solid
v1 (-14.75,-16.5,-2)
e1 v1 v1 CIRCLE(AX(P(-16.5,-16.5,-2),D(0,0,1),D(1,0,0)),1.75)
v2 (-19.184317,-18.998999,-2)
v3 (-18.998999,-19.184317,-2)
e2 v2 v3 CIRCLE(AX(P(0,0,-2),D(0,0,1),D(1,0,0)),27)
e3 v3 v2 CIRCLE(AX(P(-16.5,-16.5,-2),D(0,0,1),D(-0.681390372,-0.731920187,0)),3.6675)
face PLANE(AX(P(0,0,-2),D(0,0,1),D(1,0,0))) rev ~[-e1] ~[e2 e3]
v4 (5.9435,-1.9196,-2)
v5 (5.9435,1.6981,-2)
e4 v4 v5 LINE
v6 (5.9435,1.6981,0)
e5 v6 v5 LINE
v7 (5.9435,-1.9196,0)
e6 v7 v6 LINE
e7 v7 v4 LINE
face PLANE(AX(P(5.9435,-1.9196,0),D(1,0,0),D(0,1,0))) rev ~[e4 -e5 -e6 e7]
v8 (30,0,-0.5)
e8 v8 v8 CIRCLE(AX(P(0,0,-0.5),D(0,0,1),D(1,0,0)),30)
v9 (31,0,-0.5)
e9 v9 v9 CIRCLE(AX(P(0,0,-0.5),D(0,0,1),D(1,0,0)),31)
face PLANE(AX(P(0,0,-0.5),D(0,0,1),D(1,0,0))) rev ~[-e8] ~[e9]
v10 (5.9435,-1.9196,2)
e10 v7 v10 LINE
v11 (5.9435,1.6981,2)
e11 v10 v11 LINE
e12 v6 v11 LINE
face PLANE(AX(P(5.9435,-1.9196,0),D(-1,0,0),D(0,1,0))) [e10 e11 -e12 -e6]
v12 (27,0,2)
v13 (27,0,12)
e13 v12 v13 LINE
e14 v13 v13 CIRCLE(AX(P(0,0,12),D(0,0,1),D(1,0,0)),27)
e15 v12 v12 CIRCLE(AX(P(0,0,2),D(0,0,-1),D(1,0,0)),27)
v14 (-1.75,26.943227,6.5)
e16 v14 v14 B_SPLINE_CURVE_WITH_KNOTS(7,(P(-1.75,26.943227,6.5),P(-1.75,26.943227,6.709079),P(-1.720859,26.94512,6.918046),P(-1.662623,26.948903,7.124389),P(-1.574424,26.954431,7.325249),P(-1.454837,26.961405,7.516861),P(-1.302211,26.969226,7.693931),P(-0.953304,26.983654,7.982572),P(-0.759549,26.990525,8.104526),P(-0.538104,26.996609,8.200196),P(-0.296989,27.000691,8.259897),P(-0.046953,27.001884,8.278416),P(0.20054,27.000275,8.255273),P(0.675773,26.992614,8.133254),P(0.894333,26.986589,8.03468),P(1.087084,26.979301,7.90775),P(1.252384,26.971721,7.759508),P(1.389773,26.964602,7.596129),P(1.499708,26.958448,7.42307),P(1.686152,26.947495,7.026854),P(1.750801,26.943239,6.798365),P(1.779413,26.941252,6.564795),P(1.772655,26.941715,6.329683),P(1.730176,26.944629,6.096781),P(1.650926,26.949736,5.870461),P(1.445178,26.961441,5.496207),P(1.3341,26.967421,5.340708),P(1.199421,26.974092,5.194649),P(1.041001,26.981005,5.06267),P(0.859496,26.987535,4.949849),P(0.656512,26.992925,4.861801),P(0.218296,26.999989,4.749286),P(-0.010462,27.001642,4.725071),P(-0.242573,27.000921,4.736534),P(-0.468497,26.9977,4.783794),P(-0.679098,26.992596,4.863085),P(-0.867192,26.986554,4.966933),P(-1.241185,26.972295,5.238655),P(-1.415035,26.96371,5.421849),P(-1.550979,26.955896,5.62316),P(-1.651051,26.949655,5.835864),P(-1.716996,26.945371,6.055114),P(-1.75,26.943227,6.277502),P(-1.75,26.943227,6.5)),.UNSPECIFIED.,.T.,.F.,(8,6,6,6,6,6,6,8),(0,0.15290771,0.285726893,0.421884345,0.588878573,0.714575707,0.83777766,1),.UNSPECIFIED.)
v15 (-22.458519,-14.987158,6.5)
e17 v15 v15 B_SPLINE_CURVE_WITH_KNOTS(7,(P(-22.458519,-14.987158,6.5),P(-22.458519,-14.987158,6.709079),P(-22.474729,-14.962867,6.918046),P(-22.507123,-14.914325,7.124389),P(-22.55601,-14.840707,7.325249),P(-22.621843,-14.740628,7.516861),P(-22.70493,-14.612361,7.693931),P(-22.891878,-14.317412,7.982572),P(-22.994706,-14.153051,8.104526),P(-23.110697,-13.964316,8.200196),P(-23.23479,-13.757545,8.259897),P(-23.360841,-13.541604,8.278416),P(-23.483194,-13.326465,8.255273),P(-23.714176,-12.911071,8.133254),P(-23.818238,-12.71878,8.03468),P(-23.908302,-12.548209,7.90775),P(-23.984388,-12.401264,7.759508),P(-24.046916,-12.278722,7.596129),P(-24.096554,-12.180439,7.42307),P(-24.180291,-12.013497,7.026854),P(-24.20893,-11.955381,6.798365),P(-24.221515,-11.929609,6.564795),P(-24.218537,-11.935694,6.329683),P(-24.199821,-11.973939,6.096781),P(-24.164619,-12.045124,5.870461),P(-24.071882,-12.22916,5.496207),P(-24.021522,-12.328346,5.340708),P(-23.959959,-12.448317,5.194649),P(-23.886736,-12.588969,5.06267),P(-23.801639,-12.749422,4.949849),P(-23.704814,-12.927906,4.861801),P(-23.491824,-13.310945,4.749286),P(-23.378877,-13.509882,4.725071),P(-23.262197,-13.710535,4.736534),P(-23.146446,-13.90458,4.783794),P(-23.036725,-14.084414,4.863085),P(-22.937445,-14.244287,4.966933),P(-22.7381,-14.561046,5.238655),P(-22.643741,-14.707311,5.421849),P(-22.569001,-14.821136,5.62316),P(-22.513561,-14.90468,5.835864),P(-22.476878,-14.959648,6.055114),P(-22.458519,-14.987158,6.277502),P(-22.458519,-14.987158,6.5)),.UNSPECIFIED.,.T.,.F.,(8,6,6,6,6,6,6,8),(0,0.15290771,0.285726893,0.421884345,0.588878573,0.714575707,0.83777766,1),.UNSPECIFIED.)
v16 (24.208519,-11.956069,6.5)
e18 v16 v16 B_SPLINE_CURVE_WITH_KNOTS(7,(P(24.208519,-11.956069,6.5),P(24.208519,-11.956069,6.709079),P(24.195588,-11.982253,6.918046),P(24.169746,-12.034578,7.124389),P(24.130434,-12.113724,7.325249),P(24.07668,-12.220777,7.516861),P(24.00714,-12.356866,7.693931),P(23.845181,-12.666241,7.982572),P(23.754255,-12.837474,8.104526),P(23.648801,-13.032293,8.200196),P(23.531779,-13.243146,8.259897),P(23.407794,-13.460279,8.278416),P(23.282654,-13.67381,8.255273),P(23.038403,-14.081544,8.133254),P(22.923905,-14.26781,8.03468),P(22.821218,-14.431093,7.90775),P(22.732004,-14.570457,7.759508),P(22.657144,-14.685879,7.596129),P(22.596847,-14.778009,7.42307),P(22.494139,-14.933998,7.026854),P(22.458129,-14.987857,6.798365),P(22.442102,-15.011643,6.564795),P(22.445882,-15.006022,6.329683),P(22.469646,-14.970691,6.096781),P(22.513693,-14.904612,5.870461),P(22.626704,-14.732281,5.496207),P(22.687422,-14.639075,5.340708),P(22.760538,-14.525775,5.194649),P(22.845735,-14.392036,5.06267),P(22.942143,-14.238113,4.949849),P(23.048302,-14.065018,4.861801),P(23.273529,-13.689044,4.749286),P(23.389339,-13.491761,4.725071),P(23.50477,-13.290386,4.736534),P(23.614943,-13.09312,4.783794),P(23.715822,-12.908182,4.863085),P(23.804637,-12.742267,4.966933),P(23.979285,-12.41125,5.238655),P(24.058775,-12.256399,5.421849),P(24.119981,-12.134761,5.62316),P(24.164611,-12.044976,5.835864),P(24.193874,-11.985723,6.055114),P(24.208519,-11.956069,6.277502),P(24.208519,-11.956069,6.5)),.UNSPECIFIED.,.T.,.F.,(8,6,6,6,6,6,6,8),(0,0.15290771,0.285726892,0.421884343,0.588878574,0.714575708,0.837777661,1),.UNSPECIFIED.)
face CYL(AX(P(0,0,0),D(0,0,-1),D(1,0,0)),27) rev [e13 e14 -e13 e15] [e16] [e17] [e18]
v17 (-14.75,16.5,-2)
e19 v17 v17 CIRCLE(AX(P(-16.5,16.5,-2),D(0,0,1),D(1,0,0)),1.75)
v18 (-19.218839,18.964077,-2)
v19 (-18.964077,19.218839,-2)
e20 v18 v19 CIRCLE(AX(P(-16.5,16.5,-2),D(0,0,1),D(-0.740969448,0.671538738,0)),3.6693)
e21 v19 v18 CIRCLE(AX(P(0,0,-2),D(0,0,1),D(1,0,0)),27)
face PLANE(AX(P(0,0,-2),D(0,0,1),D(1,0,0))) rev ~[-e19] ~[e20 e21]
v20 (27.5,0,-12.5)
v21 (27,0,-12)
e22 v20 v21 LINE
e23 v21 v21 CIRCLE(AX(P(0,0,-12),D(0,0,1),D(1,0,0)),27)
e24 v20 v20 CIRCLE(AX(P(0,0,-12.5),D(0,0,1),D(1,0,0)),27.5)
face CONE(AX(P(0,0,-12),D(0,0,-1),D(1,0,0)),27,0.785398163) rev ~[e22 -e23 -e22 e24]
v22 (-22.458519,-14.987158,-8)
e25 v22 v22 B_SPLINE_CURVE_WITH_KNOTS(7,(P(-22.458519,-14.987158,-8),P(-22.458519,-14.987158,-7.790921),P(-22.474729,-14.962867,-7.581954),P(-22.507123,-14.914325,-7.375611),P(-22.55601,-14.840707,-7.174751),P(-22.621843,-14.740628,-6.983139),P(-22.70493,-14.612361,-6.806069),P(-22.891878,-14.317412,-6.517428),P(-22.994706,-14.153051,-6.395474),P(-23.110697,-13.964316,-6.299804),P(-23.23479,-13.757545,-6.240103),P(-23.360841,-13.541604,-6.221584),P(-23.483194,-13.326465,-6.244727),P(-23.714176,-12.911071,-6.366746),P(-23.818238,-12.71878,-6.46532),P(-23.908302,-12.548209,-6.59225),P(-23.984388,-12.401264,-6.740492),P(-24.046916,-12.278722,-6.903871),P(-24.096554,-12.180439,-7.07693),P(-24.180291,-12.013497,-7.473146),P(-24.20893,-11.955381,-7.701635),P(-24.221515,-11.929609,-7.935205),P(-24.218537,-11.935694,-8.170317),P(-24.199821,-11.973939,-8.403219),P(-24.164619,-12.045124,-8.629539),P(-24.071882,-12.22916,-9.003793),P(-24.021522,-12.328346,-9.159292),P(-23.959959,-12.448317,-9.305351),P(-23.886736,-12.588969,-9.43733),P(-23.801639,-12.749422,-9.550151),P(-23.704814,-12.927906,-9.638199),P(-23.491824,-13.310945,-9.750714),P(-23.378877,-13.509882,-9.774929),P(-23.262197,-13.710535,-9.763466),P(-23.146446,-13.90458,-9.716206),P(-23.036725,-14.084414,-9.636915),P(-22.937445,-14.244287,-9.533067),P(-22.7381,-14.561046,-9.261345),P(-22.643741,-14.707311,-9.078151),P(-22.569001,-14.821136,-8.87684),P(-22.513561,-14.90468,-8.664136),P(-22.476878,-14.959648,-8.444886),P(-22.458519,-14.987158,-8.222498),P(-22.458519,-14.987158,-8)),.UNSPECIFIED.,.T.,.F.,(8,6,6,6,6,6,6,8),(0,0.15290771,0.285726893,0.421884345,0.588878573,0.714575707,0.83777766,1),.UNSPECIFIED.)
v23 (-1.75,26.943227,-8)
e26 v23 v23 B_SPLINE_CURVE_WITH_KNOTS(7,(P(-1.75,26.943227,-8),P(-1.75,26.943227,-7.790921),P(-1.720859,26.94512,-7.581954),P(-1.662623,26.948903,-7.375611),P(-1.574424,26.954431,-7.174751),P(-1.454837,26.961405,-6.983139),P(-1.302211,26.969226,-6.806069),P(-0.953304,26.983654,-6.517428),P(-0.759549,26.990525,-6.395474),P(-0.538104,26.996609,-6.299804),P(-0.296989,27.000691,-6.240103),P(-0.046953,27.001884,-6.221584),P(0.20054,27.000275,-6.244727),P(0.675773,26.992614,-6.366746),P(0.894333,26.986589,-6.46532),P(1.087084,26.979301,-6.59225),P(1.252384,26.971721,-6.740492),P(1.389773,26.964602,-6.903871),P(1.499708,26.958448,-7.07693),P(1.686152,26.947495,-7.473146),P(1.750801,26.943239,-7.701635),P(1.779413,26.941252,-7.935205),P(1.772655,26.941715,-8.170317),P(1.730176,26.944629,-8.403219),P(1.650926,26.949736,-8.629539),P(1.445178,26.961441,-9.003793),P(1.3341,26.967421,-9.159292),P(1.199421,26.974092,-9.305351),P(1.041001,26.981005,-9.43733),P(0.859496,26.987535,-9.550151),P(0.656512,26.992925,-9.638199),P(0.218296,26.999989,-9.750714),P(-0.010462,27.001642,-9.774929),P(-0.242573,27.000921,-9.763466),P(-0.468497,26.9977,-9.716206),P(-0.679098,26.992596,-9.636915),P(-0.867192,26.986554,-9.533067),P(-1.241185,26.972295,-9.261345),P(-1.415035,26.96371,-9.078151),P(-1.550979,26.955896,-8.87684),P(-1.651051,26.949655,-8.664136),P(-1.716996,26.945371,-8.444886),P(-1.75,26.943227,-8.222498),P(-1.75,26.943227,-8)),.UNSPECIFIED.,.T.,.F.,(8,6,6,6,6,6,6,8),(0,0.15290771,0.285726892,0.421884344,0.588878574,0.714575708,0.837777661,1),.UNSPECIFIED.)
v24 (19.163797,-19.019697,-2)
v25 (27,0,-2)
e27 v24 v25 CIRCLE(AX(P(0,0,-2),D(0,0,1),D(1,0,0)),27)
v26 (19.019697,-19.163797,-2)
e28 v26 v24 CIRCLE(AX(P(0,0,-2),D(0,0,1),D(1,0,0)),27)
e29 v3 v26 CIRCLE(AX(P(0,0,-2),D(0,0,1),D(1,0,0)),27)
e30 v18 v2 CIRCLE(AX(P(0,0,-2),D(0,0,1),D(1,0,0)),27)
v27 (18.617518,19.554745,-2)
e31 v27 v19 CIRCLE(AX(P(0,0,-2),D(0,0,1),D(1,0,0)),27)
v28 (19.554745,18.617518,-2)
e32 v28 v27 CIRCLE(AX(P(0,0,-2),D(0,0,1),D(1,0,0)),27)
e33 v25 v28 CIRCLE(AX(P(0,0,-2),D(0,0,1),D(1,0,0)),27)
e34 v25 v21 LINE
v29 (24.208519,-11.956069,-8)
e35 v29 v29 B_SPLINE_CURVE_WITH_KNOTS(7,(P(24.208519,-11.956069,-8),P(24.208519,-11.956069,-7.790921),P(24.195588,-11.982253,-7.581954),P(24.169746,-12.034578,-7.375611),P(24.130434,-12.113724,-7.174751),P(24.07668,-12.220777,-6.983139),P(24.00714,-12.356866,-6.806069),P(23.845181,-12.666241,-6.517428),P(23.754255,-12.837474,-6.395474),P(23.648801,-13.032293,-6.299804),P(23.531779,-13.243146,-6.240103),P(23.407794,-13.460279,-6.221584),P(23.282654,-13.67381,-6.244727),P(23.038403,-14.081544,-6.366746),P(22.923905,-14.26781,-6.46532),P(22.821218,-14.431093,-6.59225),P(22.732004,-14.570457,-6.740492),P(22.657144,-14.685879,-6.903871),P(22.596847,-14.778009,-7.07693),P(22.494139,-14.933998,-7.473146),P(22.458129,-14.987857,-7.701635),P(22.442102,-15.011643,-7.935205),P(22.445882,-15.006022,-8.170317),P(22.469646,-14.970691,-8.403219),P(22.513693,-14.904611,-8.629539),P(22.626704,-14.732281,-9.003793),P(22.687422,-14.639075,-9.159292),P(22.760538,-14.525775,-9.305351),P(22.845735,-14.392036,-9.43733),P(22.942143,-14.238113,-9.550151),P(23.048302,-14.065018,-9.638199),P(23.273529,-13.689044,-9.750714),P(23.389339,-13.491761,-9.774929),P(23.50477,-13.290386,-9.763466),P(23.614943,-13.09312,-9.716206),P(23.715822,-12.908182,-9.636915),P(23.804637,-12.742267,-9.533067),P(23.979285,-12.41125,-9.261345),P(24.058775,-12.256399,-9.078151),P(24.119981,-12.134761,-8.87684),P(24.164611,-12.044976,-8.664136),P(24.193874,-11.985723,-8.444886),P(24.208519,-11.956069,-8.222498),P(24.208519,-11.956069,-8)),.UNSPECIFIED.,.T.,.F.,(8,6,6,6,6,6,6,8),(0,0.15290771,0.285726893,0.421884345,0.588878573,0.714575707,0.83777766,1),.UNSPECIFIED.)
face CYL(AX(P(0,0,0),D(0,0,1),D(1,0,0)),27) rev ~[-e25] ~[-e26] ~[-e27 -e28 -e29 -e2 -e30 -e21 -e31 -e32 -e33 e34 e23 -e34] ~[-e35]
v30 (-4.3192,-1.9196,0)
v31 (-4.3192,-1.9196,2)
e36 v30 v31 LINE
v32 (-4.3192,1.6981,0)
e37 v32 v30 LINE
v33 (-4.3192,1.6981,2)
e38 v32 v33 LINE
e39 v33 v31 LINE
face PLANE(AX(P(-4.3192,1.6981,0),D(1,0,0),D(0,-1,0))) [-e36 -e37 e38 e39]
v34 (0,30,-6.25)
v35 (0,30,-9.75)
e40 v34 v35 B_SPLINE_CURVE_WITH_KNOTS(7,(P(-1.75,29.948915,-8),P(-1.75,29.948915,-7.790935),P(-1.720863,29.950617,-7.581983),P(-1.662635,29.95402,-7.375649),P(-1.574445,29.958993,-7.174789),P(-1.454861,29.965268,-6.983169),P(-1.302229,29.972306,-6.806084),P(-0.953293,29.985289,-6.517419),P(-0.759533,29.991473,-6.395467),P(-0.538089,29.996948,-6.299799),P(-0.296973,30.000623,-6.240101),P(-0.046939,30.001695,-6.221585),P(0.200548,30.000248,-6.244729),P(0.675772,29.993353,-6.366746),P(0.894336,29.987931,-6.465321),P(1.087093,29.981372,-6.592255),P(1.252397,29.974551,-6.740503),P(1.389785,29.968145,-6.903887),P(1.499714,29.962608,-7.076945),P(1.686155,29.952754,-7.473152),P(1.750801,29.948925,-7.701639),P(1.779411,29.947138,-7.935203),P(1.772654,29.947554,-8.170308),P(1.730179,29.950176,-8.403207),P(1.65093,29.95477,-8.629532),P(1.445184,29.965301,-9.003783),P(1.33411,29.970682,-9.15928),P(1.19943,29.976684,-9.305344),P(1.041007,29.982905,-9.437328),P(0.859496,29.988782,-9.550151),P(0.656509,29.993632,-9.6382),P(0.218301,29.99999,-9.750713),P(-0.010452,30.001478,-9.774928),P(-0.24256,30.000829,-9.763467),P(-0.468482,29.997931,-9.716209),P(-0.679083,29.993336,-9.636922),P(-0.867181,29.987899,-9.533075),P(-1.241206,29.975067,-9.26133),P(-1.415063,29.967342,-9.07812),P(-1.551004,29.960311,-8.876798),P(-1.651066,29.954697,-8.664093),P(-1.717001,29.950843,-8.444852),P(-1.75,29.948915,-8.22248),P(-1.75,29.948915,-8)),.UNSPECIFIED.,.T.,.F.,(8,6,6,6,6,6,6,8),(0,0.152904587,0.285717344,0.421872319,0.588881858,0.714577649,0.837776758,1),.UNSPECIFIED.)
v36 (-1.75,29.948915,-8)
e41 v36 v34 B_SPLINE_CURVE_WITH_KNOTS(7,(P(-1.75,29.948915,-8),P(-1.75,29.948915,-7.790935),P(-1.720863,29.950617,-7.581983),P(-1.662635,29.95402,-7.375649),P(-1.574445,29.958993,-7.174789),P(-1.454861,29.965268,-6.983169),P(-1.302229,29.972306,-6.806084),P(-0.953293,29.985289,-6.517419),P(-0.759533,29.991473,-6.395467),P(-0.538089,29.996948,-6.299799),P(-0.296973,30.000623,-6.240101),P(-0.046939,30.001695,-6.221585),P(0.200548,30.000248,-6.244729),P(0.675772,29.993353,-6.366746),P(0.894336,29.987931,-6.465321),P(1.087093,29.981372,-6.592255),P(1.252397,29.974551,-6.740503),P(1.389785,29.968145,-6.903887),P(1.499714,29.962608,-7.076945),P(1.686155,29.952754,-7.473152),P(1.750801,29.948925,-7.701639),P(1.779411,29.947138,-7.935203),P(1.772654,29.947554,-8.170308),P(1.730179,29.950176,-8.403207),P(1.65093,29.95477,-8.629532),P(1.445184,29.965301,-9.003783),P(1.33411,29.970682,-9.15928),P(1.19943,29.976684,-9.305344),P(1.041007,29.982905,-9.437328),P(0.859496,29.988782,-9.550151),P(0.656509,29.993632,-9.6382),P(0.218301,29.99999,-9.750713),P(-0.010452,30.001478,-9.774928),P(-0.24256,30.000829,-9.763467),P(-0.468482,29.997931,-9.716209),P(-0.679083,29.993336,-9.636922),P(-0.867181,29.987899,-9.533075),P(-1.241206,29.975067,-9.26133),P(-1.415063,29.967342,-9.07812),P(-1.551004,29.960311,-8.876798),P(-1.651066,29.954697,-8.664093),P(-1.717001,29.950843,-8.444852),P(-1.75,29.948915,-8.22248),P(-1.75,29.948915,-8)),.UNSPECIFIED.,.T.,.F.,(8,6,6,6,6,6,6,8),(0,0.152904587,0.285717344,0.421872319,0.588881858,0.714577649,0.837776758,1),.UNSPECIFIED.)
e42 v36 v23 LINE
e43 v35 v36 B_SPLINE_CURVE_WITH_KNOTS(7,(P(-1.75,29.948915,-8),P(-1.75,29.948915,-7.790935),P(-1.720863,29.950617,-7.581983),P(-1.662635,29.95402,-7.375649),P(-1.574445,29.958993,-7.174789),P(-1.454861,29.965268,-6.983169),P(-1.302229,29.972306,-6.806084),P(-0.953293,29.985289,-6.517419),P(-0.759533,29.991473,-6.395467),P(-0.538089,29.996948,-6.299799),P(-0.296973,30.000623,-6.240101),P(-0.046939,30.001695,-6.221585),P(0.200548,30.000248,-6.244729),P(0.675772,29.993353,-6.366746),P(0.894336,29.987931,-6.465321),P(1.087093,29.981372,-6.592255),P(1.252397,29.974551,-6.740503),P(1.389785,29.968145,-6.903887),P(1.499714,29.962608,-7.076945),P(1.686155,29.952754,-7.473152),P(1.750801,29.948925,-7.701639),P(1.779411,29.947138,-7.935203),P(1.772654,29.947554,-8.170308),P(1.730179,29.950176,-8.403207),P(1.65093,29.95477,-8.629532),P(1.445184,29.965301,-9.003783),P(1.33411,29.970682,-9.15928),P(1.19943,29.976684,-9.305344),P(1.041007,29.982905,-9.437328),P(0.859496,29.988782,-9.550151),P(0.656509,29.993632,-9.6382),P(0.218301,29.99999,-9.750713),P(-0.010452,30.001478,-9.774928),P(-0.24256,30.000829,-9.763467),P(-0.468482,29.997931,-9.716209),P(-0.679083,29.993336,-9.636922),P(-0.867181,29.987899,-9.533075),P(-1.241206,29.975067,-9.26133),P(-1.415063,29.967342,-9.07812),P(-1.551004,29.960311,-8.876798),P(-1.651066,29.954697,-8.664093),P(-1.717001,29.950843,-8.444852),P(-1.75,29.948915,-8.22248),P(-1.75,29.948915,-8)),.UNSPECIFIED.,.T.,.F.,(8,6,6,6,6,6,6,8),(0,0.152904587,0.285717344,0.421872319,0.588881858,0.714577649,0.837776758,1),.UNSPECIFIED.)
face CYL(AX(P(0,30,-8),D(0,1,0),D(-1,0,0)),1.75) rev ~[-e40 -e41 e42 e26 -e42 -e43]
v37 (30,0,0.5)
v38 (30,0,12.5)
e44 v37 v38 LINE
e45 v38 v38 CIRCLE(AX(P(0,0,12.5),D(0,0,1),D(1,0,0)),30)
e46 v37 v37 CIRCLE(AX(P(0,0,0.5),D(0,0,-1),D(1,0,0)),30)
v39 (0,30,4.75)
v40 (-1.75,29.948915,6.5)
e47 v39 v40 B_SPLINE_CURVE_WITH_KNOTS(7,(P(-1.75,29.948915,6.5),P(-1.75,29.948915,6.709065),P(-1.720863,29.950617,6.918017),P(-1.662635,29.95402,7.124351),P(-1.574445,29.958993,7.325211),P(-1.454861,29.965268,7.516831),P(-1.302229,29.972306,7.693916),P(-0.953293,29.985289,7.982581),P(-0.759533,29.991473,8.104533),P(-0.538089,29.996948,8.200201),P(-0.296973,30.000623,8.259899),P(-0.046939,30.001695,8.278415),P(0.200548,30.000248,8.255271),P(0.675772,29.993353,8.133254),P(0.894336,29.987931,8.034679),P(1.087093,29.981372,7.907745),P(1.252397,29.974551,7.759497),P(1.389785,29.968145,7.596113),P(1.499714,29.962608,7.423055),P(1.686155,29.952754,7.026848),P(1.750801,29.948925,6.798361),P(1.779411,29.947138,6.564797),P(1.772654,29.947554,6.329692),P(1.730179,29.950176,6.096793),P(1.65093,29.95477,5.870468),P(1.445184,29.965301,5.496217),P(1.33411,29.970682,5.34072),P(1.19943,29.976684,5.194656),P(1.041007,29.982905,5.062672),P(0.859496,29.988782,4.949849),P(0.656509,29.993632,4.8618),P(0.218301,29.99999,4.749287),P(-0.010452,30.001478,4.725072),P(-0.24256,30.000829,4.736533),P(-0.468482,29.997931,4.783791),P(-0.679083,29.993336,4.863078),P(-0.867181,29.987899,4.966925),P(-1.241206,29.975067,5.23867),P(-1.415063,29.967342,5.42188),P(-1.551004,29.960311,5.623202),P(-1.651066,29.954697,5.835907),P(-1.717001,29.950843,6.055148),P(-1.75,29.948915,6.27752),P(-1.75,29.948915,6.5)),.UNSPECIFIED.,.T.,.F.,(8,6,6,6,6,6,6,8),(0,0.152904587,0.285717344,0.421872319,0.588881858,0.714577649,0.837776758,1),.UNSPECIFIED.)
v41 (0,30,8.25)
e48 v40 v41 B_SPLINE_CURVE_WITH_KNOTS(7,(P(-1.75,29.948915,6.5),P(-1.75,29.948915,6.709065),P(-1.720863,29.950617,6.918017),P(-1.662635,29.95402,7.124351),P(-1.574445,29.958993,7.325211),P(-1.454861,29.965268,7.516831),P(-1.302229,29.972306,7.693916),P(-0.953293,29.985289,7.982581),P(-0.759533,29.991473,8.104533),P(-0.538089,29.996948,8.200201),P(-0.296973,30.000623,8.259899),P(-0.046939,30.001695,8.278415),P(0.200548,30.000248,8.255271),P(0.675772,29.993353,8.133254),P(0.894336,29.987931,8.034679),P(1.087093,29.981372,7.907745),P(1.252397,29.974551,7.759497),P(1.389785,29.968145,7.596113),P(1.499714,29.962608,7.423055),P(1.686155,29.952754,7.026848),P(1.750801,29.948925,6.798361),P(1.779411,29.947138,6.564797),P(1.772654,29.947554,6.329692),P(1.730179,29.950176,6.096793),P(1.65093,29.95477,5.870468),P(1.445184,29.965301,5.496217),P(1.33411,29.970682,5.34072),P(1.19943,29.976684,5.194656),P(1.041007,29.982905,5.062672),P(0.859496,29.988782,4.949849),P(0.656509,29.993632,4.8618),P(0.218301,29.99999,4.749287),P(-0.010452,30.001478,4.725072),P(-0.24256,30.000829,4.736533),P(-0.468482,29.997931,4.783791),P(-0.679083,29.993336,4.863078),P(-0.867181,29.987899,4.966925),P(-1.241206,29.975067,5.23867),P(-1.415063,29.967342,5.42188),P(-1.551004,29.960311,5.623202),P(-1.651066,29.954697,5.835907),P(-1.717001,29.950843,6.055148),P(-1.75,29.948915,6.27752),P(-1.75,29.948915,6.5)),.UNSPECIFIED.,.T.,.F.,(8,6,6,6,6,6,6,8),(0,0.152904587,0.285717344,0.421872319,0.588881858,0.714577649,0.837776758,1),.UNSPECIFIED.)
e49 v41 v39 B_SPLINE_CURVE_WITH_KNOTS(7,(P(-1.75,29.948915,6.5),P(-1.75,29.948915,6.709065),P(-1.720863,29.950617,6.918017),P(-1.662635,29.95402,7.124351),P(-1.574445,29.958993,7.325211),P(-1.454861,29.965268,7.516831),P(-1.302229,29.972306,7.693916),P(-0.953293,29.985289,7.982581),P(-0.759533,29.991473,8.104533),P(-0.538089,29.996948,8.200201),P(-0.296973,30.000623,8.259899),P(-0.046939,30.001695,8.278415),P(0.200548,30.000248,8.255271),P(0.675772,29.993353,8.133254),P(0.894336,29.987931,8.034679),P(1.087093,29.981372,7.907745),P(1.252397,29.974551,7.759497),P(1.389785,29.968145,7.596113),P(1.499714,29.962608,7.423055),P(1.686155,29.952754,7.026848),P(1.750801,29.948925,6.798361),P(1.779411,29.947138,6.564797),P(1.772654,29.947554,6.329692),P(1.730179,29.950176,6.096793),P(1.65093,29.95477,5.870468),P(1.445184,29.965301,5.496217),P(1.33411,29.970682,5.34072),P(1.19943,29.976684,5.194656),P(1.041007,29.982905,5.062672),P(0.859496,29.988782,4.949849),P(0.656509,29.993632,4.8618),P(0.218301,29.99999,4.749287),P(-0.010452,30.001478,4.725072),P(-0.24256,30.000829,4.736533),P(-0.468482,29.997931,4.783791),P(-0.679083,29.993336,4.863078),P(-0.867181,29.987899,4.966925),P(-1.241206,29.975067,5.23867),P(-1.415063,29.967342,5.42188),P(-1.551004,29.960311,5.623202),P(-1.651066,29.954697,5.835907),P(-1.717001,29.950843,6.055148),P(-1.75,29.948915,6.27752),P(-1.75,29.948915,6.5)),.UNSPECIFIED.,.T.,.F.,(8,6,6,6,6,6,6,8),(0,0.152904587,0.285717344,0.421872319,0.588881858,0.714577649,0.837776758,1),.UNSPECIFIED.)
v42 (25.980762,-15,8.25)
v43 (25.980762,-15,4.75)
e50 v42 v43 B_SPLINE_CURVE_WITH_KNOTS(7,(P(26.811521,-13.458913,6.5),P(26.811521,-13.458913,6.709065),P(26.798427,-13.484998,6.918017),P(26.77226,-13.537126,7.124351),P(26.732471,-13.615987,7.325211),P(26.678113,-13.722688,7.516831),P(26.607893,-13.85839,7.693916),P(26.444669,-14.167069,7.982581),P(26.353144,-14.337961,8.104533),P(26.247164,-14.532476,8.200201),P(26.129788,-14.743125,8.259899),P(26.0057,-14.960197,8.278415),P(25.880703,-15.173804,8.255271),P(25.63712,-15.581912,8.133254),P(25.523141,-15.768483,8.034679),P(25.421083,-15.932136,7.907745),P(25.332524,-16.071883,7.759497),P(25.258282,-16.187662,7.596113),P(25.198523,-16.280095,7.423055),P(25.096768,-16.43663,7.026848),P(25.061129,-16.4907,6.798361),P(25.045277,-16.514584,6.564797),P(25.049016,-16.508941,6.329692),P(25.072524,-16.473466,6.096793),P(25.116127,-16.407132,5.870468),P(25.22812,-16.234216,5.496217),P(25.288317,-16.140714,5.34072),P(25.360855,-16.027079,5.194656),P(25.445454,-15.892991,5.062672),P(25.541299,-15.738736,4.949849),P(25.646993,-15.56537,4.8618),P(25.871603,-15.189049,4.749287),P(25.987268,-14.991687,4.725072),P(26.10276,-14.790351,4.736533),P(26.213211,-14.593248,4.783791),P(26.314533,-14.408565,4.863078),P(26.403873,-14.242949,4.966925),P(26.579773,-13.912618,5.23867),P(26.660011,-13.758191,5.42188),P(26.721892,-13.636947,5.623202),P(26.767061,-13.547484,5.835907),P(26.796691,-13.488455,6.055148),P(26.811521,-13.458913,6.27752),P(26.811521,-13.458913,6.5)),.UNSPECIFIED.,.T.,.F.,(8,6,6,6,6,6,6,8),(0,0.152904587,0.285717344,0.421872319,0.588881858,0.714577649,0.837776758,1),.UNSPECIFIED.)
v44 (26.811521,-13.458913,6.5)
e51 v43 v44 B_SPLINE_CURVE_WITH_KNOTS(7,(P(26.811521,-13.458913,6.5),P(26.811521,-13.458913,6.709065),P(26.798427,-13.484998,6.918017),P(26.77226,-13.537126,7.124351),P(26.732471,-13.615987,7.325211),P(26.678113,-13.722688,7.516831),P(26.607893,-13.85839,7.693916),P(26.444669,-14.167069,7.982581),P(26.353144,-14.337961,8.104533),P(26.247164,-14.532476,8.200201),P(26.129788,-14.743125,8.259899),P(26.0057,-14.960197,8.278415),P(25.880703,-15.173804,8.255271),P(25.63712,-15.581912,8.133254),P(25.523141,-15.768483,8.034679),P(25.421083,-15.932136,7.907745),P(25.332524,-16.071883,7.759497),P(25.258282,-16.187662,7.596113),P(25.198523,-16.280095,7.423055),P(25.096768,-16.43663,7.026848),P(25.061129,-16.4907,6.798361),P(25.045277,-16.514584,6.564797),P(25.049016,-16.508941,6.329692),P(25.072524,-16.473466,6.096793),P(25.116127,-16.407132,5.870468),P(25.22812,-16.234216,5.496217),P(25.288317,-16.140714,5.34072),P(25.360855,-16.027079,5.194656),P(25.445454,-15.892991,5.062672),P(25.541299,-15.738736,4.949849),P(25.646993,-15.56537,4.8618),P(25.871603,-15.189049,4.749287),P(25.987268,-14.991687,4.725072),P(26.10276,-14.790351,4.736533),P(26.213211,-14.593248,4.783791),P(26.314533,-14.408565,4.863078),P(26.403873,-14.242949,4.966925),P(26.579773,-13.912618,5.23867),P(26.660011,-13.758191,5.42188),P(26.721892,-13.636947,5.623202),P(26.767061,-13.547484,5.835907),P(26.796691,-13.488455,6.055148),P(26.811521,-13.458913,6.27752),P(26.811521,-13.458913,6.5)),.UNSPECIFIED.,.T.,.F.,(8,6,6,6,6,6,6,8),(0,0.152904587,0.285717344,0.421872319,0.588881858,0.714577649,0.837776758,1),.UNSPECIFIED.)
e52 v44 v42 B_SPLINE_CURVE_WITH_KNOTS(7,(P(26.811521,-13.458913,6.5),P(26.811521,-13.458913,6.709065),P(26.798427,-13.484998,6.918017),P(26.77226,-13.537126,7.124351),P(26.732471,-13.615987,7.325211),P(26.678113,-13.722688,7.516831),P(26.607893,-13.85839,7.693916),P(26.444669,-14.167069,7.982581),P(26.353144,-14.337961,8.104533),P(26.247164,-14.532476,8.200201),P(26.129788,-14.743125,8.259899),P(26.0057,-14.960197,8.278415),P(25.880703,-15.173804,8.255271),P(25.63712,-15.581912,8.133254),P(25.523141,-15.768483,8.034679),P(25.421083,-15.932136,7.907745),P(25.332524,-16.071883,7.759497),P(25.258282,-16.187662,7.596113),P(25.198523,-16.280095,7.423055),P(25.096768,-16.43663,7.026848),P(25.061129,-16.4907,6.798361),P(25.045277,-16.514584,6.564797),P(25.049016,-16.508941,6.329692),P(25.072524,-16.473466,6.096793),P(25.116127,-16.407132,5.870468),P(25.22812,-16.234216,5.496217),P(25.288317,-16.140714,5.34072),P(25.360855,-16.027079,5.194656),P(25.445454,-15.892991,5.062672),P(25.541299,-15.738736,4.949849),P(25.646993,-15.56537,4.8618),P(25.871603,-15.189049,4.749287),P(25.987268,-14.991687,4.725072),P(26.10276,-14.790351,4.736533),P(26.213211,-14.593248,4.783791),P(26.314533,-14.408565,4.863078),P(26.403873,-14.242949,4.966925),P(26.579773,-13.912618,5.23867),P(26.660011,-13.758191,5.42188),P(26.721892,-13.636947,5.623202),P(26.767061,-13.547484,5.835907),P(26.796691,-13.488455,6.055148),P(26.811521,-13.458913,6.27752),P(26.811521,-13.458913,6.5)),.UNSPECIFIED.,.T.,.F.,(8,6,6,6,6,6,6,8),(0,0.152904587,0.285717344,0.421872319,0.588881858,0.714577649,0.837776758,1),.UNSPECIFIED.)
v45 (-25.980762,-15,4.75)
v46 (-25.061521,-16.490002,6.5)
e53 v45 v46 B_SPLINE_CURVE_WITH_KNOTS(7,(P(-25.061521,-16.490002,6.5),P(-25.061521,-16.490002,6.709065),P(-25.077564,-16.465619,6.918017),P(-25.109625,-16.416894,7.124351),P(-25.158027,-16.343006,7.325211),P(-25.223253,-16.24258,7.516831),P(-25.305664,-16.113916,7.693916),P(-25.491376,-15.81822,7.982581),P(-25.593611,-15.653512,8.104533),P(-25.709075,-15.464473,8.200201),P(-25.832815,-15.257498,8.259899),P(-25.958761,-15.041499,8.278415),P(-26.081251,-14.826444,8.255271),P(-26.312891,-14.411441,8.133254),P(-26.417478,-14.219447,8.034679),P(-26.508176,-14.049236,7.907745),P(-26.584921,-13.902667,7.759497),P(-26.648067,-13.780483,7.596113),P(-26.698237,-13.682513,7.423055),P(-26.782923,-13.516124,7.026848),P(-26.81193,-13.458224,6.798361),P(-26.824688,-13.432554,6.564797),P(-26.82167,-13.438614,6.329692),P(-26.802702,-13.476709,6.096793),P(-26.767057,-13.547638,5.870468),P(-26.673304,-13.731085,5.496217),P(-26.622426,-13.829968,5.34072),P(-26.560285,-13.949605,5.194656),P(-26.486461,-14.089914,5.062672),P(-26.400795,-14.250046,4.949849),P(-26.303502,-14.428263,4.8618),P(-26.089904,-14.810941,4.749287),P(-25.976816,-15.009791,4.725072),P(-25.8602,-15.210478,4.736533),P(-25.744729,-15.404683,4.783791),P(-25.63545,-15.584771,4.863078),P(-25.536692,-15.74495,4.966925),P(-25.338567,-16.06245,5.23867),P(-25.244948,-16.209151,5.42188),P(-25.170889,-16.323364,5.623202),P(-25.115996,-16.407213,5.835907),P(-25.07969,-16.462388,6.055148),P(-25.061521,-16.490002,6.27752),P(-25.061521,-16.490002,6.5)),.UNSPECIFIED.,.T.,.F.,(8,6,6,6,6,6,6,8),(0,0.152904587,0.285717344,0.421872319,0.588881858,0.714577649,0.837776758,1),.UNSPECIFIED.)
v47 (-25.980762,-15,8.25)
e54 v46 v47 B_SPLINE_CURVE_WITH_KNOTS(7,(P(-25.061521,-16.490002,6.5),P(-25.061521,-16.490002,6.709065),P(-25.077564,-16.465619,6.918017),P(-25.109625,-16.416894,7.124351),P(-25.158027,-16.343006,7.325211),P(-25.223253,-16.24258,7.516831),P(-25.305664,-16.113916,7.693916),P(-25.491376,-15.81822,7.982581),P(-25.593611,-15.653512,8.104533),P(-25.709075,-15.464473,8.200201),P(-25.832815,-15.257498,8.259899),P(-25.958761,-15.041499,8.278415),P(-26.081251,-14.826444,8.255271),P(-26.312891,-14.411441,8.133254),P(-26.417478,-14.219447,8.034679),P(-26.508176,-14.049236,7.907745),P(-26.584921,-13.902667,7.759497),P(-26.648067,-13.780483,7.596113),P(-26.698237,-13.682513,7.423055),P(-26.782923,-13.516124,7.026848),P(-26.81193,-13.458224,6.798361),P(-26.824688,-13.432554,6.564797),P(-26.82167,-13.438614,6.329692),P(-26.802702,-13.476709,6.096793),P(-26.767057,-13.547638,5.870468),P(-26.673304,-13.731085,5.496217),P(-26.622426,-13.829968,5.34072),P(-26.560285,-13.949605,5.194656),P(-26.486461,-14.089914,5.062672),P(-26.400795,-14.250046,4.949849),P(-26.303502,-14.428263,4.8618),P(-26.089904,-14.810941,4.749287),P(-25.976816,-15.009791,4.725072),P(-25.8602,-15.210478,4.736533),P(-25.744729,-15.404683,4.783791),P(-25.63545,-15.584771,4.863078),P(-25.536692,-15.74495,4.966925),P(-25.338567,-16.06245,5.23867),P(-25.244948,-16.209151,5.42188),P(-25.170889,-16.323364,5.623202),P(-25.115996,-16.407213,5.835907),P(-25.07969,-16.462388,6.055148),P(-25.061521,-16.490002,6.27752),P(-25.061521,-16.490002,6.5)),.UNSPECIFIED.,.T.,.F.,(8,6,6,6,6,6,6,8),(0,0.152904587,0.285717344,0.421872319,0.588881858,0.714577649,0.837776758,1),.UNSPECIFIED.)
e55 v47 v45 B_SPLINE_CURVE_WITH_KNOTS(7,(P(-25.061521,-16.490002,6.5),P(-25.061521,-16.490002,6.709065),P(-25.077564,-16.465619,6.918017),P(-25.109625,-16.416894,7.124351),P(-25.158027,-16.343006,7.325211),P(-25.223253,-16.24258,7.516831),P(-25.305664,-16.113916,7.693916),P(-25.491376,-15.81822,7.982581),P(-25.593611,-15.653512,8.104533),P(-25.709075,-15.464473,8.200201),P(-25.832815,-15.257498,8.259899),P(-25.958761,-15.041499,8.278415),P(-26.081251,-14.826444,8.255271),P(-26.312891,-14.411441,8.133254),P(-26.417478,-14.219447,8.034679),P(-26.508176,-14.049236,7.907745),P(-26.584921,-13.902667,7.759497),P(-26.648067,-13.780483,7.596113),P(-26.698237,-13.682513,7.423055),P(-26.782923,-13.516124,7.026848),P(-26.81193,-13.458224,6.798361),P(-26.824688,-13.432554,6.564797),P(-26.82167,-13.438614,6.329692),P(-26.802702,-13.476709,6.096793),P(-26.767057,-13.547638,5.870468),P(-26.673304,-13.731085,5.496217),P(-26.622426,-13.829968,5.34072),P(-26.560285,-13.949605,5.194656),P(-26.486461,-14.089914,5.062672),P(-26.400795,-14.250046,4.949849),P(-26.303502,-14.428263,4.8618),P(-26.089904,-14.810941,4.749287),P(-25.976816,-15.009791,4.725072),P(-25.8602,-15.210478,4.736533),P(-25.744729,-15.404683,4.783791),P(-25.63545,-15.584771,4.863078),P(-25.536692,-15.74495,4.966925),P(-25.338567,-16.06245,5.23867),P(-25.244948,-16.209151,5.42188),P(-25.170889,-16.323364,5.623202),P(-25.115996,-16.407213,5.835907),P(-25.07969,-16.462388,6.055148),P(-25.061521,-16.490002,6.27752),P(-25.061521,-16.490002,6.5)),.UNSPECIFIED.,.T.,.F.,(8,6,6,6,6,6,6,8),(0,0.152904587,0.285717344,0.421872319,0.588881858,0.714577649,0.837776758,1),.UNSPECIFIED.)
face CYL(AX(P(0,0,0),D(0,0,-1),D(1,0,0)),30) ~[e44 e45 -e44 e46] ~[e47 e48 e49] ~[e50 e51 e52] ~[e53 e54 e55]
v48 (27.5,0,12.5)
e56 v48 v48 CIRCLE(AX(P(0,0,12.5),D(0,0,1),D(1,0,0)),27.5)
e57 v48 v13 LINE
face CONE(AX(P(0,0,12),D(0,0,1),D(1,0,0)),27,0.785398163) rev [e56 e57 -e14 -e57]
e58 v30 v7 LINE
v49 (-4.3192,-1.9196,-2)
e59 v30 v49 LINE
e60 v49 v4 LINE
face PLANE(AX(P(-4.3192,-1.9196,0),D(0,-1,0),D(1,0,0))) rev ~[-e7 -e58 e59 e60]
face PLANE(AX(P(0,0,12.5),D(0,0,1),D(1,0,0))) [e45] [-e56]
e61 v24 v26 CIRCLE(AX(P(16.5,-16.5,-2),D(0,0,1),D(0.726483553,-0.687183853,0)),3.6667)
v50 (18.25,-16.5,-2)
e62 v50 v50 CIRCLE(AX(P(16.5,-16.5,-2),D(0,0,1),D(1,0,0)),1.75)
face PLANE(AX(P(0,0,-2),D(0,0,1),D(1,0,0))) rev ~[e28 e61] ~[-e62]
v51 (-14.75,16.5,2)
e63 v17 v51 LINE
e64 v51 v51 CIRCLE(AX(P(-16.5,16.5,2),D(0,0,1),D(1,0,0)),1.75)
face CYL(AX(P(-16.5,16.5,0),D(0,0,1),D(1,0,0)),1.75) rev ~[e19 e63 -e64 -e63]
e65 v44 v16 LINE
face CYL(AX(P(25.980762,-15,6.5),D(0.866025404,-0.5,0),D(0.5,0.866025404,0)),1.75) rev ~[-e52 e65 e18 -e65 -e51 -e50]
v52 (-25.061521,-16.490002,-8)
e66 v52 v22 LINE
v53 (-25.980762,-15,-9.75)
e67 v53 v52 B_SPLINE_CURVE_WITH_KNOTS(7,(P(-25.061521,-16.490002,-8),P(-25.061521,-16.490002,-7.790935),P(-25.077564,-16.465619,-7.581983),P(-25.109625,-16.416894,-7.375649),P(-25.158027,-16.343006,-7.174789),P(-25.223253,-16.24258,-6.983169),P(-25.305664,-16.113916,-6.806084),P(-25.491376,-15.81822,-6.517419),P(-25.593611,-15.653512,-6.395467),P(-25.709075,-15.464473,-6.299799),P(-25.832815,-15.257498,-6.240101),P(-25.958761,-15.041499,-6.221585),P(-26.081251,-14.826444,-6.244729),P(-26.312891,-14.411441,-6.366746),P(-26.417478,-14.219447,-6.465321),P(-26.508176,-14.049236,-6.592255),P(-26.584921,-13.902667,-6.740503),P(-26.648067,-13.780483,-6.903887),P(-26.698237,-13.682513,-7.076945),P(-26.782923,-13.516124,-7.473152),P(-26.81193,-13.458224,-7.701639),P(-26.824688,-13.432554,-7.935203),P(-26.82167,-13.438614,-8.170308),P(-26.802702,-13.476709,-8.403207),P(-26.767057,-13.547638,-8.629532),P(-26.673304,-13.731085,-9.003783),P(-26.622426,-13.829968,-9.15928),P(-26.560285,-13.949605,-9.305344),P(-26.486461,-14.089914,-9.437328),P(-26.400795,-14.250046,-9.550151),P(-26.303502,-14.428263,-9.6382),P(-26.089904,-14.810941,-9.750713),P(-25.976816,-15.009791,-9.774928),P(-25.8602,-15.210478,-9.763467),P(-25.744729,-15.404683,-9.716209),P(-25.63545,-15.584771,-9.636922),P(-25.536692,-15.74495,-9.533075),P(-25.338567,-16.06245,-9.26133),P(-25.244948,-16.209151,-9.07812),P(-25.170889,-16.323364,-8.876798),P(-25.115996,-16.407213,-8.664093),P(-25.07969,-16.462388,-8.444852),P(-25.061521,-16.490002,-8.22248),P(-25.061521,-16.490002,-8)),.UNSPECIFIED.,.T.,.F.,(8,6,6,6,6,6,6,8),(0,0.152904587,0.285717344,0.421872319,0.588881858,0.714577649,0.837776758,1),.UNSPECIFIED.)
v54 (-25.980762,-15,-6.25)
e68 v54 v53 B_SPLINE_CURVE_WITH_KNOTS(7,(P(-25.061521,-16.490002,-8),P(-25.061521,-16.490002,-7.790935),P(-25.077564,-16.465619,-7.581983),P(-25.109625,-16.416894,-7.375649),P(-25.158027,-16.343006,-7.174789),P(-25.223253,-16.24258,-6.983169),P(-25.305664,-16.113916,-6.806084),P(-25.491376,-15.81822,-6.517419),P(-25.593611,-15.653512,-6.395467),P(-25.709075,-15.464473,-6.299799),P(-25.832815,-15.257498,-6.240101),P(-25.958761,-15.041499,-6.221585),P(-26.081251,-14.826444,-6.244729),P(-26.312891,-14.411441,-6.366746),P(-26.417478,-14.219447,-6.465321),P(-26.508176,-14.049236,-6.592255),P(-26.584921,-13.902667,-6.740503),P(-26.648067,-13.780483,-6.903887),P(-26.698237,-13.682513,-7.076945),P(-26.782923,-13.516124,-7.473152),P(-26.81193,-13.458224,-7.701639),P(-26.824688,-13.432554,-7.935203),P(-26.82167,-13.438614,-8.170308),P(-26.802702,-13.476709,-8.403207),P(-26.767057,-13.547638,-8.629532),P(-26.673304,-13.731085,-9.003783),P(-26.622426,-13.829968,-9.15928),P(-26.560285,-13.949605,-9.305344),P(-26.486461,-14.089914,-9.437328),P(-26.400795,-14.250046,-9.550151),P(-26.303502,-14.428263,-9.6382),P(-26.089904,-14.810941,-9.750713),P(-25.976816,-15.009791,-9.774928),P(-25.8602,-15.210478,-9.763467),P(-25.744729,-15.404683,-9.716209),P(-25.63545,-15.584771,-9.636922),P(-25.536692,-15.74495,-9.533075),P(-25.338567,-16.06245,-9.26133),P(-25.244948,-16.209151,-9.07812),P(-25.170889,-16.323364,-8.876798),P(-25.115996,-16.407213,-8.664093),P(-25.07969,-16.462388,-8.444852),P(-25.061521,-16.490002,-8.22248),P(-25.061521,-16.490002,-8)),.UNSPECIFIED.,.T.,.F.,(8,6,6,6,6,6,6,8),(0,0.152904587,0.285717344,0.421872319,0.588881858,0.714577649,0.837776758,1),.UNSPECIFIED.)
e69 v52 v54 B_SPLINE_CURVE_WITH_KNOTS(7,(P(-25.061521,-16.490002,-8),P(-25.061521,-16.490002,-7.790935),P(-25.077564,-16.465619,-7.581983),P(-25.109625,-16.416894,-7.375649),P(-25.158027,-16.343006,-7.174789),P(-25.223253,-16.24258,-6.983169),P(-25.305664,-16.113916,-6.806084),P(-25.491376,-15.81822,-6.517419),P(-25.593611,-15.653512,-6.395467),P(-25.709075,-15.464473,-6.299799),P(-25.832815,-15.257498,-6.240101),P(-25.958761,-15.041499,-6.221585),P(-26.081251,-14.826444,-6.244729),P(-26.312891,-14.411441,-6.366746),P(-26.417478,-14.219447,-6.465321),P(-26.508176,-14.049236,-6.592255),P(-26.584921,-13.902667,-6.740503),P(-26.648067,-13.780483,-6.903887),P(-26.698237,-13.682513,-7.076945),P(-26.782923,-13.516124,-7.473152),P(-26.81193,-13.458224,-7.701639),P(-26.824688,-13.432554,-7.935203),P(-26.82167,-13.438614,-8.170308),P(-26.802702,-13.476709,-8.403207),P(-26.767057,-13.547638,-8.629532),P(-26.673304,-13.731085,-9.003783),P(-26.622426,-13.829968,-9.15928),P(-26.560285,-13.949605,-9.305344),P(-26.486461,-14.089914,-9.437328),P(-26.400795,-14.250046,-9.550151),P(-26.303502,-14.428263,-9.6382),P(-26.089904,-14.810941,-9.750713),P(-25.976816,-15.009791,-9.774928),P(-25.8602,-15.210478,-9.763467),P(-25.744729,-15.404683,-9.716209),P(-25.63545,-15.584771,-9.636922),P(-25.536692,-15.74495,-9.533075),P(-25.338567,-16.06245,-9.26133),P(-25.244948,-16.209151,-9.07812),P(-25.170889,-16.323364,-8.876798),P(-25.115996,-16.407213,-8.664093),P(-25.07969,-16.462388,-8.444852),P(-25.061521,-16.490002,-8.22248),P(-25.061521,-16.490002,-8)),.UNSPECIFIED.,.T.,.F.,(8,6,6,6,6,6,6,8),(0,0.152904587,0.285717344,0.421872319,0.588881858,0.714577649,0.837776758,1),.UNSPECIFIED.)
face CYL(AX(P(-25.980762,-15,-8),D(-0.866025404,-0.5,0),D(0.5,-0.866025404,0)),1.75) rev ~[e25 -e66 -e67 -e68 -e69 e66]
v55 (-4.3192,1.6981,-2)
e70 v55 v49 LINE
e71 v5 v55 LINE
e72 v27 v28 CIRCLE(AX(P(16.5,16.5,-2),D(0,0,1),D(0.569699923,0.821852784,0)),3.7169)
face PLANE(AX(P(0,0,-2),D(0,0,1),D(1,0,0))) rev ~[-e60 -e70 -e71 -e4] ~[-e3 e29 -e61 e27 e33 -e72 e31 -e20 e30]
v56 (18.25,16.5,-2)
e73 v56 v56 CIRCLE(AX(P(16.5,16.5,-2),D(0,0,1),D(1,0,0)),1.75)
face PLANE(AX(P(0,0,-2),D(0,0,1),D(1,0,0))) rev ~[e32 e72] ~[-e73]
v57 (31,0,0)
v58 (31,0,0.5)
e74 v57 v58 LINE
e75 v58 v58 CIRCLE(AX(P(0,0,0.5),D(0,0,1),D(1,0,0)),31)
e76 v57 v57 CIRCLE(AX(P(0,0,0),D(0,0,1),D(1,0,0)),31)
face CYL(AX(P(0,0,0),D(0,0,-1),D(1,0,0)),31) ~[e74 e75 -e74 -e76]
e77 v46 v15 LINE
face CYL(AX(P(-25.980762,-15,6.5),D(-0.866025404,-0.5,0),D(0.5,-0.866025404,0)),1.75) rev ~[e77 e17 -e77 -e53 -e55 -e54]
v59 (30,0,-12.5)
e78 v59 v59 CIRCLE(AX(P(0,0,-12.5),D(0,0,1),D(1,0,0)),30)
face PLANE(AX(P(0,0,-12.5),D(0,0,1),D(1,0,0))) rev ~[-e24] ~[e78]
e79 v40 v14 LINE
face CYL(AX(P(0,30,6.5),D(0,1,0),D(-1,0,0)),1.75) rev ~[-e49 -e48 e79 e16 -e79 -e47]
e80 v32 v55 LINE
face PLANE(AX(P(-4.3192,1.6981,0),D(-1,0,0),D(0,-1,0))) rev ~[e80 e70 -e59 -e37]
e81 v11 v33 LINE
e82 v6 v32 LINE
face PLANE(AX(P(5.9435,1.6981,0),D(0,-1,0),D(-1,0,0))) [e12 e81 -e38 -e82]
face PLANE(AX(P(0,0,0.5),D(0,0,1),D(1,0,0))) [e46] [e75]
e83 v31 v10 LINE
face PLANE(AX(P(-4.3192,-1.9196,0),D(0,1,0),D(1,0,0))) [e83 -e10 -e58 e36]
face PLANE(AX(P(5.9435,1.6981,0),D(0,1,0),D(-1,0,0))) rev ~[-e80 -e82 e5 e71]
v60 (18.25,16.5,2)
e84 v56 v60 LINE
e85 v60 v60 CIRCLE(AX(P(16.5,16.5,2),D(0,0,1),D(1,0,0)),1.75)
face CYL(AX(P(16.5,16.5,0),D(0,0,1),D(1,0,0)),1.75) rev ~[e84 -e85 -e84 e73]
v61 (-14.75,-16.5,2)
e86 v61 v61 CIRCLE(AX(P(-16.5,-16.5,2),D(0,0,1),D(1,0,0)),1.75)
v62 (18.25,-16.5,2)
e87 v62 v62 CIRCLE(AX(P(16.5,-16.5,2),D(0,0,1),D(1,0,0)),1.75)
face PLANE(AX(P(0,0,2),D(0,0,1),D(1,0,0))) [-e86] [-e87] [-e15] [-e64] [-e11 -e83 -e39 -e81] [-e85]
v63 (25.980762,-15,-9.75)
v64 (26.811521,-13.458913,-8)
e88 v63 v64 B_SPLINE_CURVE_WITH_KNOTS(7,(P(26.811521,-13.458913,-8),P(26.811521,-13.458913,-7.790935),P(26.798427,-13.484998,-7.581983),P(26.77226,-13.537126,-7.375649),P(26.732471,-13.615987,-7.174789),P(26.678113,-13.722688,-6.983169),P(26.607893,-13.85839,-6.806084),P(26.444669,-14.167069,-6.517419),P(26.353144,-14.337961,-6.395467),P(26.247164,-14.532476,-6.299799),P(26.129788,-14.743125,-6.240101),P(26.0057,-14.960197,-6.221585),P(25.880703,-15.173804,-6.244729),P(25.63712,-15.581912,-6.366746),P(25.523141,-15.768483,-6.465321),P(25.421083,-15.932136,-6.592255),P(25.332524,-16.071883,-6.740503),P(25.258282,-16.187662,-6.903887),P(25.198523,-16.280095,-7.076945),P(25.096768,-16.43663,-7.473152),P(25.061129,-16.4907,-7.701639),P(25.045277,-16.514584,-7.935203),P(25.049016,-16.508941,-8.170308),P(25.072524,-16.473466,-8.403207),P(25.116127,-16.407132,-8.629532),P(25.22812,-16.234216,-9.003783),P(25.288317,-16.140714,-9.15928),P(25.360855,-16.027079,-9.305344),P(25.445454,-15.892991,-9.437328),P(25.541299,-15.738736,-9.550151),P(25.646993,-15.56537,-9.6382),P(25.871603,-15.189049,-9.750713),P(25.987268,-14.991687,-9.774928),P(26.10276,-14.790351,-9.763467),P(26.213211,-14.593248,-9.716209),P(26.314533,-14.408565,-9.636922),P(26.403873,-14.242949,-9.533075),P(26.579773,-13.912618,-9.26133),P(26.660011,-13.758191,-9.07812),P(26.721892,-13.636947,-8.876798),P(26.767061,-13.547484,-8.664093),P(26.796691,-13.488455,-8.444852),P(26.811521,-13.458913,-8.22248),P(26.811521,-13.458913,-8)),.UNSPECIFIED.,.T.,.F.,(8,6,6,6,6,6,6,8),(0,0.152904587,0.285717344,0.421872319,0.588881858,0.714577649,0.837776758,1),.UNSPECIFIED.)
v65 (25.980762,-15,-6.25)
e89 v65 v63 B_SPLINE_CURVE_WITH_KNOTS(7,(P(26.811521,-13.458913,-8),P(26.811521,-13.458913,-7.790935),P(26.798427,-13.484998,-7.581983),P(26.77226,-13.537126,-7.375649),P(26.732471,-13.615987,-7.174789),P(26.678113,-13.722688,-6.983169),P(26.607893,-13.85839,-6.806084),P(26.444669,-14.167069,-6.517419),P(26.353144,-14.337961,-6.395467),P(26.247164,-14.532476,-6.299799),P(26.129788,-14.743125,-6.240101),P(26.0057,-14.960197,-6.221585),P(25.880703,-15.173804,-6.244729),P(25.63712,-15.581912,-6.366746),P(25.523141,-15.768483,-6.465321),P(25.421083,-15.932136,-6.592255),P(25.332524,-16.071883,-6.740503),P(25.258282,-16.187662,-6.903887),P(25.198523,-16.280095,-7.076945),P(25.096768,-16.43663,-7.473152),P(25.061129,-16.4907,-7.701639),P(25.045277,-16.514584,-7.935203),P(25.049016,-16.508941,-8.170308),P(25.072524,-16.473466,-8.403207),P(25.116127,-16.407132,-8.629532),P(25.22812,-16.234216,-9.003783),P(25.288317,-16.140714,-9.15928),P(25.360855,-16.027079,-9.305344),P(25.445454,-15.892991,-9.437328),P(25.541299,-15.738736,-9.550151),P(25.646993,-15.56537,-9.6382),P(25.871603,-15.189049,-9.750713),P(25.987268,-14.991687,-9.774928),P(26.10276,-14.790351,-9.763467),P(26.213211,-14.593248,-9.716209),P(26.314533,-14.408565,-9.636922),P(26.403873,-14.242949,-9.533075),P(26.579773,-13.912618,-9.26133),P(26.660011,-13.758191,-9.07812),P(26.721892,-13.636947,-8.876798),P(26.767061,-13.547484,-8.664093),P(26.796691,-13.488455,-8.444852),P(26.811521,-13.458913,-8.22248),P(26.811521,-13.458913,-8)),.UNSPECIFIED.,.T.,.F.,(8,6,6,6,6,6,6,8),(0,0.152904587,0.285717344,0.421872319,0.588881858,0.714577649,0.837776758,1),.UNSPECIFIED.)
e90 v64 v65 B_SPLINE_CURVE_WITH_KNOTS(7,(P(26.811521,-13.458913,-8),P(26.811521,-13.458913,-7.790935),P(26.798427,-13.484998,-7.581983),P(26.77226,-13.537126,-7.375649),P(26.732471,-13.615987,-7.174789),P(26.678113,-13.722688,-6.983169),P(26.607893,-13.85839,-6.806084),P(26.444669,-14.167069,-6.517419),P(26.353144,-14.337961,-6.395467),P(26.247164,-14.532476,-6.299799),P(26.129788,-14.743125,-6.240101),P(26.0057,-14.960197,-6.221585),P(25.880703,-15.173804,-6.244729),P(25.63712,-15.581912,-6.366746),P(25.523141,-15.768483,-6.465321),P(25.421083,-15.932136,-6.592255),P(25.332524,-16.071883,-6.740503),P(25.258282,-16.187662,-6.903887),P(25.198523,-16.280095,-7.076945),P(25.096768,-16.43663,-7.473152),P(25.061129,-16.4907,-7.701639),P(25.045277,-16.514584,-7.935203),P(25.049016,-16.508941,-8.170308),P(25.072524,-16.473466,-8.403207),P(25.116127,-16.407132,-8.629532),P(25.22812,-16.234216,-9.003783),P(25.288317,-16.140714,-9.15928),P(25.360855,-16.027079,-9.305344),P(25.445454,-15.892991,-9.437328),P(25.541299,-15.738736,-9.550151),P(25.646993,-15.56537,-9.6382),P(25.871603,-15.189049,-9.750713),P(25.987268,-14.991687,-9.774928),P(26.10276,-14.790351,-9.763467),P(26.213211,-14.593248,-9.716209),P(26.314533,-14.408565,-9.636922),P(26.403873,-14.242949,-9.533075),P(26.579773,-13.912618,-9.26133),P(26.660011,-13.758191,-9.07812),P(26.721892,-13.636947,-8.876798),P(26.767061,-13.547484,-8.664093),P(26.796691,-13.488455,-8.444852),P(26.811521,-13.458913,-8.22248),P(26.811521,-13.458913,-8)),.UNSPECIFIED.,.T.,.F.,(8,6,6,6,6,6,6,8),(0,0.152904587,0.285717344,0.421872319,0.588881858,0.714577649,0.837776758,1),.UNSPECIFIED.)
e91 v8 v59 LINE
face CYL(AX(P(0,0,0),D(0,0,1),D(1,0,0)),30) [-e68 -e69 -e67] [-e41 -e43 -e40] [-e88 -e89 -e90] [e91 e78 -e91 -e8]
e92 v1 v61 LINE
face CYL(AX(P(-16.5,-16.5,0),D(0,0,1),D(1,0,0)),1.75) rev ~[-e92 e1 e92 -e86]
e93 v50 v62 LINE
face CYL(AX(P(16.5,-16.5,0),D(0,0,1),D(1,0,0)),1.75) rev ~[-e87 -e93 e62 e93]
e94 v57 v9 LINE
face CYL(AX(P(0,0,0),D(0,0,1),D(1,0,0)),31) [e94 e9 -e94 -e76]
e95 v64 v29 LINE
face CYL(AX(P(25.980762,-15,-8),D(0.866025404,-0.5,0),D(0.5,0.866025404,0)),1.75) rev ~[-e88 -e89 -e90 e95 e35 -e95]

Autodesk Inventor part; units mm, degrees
ref_plane "YZ Plane" through (0, 0, 0) normal (1, 0, 0) x (0, 1, 0)
ref_plane "XZ Plane" through (0, 0, 0) normal (0, 1, 0) x (-1, 0, 0)
sketch "Skizze1" plane through (0, 0, 0) normal (0, 0, 1) x (1, 0, 0)
  circle A0 centre (0, 0) radius 30
  circle A1 centre (0, 0) radius 27
  dimension "d0" = 60
  dimension "d1" = 54
extrude "Extrusion1" add sketch "Skizze1" along normal mid plane 25
ref_plane "Arbeitsebene1" through (0, 0, 6) normal (0, 0, 1) x (1, 0, 0)
sketch "Skizze2" plane through (0, 0, 6) normal (0, 0, 1) x (1, 0, 0)
  line L0 (0, 39.0372) -> (0, -37.5893) construction
  circle A0 centre (0, 0) radius 30 construction
  point P0 (0, 30)
ref_plane "Arbeitsebene2" through (0, 30, 6) normal (0, 1, 0) x (-1, 0, 0)
sketch "Skizze3" plane through (0, 30, 6) normal (0, 1, 0) x (-1, 0, 0)
  circle A0 centre (0, 0.5) radius 1.75
  point P0 (0, -6)
  dimension "d5" = 3.5
  dimension "d31" = 6.5
extrude "Extrusion2" cut sketch "Skizze3" against normal blind 5
pattern_circular "Runde Anordnung1" count 3 over 360 about axis through (0, 0, -10) along (0, 0, 1) of "Extrusion2"
chamfer "Fase1" distance 0.5 angle 45 2 edges at (-27, 0, 12.5) (-27, 0, -12.5)
sketch "Skizze5" plane through (0, 0, 0) normal (0, 0, 1) x (1, 0, 0)
  circle A0 centre (0, 0) radius 27
  line L0 (-4.3192, -1.9196) -> (5.9435, -1.9196)
  line L1 (5.9435, -1.9196) -> (5.9435, 1.6981)
  line L2 (5.9435, 1.6981) -> (-4.3192, 1.6981)
  line L3 (-4.3192, 1.6981) -> (-4.3192, -1.9196)
extrude "Extrusion4" add sketch "Skizze5" along normal mid plane 4
sketch "Skizze4" plane through (0, 0, 0) normal (0, 0, 1) x (1, 0, 0)
  line L0 (0, 34.5644) -> (0, -38.5024) construction
  line L1 (-38.0901, 0) -> (52.3904, 0) construction
  line L2 (-34.7368, 16.5) -> (36.624, 16.5) construction
  line L3 (-36.0898, -16.5) -> (37.8594, -16.5) construction
  line L4 (16.5, 35.2115) -> (16.5, -32.6782) construction
  line L5 (-16.5, 34.5644) -> (-16.5, -34.6196) construction
  circle A0 centre (-16.5, 16.5) radius 1.75
  circle A1 centre (16.5, 16.5) radius 1.75
  circle A2 centre (-16.5, -16.5) radius 1.75
  circle A3 centre (16.5, -16.5) radius 1.75
  circle A4 centre (-16.5, 16.5) radius 3.6693
  circle A5 centre (16.5, 16.5) radius 3.7169
  circle A6 centre (16.5, -16.5) radius 3.6667
  circle A7 centre (-16.5, -16.5) radius 3.6675
  point P0 (0, 0)
  dimension "d14" = 33
  dimension "d15" = 33
  dimension "d16" = 3.5
  dimension "d17" = 3.5
  dimension "d18" = 3.5
  dimension "d19" = 3.5
extrude "Extrusion3" add sketch "Skizze4" along normal mid plane 4
extrude "Extrusion5" cut sketch "Skizze4" against normal mid plane 4 contours A0 | A1 | A2 | A3
sketch "Skizze6" plane through (0, 0, 0) normal (0, 0, 1) x (1, 0, 0)
  circle A0 centre (0, 0) radius 31
  circle A1 centre (0, 0) radius 29
  dimension "d27" = 62
  dimension "d28" = 58
extrude "Extrusion6" add sketch "Skizze6" along normal mid plane 1
sketch "Skizze7" plane through (0, 30, 6) normal (0, 1, 0) x (-1, 0, 0)
  circle A0 centre (0, -14) radius 1.75
  point P0 (0, -6)
  dimension "d32" = 3.5
  dimension "d33" = 8
extrude "Extrusion7" cut sketch "Skizze7" against normal blind 5
pattern_circular "Runde Anordnung2" count 3 over 360 about axis through (0, 0, -10) along (0, 0, 1) of "Extrusion7"
properties part number "_3D-Druck"
